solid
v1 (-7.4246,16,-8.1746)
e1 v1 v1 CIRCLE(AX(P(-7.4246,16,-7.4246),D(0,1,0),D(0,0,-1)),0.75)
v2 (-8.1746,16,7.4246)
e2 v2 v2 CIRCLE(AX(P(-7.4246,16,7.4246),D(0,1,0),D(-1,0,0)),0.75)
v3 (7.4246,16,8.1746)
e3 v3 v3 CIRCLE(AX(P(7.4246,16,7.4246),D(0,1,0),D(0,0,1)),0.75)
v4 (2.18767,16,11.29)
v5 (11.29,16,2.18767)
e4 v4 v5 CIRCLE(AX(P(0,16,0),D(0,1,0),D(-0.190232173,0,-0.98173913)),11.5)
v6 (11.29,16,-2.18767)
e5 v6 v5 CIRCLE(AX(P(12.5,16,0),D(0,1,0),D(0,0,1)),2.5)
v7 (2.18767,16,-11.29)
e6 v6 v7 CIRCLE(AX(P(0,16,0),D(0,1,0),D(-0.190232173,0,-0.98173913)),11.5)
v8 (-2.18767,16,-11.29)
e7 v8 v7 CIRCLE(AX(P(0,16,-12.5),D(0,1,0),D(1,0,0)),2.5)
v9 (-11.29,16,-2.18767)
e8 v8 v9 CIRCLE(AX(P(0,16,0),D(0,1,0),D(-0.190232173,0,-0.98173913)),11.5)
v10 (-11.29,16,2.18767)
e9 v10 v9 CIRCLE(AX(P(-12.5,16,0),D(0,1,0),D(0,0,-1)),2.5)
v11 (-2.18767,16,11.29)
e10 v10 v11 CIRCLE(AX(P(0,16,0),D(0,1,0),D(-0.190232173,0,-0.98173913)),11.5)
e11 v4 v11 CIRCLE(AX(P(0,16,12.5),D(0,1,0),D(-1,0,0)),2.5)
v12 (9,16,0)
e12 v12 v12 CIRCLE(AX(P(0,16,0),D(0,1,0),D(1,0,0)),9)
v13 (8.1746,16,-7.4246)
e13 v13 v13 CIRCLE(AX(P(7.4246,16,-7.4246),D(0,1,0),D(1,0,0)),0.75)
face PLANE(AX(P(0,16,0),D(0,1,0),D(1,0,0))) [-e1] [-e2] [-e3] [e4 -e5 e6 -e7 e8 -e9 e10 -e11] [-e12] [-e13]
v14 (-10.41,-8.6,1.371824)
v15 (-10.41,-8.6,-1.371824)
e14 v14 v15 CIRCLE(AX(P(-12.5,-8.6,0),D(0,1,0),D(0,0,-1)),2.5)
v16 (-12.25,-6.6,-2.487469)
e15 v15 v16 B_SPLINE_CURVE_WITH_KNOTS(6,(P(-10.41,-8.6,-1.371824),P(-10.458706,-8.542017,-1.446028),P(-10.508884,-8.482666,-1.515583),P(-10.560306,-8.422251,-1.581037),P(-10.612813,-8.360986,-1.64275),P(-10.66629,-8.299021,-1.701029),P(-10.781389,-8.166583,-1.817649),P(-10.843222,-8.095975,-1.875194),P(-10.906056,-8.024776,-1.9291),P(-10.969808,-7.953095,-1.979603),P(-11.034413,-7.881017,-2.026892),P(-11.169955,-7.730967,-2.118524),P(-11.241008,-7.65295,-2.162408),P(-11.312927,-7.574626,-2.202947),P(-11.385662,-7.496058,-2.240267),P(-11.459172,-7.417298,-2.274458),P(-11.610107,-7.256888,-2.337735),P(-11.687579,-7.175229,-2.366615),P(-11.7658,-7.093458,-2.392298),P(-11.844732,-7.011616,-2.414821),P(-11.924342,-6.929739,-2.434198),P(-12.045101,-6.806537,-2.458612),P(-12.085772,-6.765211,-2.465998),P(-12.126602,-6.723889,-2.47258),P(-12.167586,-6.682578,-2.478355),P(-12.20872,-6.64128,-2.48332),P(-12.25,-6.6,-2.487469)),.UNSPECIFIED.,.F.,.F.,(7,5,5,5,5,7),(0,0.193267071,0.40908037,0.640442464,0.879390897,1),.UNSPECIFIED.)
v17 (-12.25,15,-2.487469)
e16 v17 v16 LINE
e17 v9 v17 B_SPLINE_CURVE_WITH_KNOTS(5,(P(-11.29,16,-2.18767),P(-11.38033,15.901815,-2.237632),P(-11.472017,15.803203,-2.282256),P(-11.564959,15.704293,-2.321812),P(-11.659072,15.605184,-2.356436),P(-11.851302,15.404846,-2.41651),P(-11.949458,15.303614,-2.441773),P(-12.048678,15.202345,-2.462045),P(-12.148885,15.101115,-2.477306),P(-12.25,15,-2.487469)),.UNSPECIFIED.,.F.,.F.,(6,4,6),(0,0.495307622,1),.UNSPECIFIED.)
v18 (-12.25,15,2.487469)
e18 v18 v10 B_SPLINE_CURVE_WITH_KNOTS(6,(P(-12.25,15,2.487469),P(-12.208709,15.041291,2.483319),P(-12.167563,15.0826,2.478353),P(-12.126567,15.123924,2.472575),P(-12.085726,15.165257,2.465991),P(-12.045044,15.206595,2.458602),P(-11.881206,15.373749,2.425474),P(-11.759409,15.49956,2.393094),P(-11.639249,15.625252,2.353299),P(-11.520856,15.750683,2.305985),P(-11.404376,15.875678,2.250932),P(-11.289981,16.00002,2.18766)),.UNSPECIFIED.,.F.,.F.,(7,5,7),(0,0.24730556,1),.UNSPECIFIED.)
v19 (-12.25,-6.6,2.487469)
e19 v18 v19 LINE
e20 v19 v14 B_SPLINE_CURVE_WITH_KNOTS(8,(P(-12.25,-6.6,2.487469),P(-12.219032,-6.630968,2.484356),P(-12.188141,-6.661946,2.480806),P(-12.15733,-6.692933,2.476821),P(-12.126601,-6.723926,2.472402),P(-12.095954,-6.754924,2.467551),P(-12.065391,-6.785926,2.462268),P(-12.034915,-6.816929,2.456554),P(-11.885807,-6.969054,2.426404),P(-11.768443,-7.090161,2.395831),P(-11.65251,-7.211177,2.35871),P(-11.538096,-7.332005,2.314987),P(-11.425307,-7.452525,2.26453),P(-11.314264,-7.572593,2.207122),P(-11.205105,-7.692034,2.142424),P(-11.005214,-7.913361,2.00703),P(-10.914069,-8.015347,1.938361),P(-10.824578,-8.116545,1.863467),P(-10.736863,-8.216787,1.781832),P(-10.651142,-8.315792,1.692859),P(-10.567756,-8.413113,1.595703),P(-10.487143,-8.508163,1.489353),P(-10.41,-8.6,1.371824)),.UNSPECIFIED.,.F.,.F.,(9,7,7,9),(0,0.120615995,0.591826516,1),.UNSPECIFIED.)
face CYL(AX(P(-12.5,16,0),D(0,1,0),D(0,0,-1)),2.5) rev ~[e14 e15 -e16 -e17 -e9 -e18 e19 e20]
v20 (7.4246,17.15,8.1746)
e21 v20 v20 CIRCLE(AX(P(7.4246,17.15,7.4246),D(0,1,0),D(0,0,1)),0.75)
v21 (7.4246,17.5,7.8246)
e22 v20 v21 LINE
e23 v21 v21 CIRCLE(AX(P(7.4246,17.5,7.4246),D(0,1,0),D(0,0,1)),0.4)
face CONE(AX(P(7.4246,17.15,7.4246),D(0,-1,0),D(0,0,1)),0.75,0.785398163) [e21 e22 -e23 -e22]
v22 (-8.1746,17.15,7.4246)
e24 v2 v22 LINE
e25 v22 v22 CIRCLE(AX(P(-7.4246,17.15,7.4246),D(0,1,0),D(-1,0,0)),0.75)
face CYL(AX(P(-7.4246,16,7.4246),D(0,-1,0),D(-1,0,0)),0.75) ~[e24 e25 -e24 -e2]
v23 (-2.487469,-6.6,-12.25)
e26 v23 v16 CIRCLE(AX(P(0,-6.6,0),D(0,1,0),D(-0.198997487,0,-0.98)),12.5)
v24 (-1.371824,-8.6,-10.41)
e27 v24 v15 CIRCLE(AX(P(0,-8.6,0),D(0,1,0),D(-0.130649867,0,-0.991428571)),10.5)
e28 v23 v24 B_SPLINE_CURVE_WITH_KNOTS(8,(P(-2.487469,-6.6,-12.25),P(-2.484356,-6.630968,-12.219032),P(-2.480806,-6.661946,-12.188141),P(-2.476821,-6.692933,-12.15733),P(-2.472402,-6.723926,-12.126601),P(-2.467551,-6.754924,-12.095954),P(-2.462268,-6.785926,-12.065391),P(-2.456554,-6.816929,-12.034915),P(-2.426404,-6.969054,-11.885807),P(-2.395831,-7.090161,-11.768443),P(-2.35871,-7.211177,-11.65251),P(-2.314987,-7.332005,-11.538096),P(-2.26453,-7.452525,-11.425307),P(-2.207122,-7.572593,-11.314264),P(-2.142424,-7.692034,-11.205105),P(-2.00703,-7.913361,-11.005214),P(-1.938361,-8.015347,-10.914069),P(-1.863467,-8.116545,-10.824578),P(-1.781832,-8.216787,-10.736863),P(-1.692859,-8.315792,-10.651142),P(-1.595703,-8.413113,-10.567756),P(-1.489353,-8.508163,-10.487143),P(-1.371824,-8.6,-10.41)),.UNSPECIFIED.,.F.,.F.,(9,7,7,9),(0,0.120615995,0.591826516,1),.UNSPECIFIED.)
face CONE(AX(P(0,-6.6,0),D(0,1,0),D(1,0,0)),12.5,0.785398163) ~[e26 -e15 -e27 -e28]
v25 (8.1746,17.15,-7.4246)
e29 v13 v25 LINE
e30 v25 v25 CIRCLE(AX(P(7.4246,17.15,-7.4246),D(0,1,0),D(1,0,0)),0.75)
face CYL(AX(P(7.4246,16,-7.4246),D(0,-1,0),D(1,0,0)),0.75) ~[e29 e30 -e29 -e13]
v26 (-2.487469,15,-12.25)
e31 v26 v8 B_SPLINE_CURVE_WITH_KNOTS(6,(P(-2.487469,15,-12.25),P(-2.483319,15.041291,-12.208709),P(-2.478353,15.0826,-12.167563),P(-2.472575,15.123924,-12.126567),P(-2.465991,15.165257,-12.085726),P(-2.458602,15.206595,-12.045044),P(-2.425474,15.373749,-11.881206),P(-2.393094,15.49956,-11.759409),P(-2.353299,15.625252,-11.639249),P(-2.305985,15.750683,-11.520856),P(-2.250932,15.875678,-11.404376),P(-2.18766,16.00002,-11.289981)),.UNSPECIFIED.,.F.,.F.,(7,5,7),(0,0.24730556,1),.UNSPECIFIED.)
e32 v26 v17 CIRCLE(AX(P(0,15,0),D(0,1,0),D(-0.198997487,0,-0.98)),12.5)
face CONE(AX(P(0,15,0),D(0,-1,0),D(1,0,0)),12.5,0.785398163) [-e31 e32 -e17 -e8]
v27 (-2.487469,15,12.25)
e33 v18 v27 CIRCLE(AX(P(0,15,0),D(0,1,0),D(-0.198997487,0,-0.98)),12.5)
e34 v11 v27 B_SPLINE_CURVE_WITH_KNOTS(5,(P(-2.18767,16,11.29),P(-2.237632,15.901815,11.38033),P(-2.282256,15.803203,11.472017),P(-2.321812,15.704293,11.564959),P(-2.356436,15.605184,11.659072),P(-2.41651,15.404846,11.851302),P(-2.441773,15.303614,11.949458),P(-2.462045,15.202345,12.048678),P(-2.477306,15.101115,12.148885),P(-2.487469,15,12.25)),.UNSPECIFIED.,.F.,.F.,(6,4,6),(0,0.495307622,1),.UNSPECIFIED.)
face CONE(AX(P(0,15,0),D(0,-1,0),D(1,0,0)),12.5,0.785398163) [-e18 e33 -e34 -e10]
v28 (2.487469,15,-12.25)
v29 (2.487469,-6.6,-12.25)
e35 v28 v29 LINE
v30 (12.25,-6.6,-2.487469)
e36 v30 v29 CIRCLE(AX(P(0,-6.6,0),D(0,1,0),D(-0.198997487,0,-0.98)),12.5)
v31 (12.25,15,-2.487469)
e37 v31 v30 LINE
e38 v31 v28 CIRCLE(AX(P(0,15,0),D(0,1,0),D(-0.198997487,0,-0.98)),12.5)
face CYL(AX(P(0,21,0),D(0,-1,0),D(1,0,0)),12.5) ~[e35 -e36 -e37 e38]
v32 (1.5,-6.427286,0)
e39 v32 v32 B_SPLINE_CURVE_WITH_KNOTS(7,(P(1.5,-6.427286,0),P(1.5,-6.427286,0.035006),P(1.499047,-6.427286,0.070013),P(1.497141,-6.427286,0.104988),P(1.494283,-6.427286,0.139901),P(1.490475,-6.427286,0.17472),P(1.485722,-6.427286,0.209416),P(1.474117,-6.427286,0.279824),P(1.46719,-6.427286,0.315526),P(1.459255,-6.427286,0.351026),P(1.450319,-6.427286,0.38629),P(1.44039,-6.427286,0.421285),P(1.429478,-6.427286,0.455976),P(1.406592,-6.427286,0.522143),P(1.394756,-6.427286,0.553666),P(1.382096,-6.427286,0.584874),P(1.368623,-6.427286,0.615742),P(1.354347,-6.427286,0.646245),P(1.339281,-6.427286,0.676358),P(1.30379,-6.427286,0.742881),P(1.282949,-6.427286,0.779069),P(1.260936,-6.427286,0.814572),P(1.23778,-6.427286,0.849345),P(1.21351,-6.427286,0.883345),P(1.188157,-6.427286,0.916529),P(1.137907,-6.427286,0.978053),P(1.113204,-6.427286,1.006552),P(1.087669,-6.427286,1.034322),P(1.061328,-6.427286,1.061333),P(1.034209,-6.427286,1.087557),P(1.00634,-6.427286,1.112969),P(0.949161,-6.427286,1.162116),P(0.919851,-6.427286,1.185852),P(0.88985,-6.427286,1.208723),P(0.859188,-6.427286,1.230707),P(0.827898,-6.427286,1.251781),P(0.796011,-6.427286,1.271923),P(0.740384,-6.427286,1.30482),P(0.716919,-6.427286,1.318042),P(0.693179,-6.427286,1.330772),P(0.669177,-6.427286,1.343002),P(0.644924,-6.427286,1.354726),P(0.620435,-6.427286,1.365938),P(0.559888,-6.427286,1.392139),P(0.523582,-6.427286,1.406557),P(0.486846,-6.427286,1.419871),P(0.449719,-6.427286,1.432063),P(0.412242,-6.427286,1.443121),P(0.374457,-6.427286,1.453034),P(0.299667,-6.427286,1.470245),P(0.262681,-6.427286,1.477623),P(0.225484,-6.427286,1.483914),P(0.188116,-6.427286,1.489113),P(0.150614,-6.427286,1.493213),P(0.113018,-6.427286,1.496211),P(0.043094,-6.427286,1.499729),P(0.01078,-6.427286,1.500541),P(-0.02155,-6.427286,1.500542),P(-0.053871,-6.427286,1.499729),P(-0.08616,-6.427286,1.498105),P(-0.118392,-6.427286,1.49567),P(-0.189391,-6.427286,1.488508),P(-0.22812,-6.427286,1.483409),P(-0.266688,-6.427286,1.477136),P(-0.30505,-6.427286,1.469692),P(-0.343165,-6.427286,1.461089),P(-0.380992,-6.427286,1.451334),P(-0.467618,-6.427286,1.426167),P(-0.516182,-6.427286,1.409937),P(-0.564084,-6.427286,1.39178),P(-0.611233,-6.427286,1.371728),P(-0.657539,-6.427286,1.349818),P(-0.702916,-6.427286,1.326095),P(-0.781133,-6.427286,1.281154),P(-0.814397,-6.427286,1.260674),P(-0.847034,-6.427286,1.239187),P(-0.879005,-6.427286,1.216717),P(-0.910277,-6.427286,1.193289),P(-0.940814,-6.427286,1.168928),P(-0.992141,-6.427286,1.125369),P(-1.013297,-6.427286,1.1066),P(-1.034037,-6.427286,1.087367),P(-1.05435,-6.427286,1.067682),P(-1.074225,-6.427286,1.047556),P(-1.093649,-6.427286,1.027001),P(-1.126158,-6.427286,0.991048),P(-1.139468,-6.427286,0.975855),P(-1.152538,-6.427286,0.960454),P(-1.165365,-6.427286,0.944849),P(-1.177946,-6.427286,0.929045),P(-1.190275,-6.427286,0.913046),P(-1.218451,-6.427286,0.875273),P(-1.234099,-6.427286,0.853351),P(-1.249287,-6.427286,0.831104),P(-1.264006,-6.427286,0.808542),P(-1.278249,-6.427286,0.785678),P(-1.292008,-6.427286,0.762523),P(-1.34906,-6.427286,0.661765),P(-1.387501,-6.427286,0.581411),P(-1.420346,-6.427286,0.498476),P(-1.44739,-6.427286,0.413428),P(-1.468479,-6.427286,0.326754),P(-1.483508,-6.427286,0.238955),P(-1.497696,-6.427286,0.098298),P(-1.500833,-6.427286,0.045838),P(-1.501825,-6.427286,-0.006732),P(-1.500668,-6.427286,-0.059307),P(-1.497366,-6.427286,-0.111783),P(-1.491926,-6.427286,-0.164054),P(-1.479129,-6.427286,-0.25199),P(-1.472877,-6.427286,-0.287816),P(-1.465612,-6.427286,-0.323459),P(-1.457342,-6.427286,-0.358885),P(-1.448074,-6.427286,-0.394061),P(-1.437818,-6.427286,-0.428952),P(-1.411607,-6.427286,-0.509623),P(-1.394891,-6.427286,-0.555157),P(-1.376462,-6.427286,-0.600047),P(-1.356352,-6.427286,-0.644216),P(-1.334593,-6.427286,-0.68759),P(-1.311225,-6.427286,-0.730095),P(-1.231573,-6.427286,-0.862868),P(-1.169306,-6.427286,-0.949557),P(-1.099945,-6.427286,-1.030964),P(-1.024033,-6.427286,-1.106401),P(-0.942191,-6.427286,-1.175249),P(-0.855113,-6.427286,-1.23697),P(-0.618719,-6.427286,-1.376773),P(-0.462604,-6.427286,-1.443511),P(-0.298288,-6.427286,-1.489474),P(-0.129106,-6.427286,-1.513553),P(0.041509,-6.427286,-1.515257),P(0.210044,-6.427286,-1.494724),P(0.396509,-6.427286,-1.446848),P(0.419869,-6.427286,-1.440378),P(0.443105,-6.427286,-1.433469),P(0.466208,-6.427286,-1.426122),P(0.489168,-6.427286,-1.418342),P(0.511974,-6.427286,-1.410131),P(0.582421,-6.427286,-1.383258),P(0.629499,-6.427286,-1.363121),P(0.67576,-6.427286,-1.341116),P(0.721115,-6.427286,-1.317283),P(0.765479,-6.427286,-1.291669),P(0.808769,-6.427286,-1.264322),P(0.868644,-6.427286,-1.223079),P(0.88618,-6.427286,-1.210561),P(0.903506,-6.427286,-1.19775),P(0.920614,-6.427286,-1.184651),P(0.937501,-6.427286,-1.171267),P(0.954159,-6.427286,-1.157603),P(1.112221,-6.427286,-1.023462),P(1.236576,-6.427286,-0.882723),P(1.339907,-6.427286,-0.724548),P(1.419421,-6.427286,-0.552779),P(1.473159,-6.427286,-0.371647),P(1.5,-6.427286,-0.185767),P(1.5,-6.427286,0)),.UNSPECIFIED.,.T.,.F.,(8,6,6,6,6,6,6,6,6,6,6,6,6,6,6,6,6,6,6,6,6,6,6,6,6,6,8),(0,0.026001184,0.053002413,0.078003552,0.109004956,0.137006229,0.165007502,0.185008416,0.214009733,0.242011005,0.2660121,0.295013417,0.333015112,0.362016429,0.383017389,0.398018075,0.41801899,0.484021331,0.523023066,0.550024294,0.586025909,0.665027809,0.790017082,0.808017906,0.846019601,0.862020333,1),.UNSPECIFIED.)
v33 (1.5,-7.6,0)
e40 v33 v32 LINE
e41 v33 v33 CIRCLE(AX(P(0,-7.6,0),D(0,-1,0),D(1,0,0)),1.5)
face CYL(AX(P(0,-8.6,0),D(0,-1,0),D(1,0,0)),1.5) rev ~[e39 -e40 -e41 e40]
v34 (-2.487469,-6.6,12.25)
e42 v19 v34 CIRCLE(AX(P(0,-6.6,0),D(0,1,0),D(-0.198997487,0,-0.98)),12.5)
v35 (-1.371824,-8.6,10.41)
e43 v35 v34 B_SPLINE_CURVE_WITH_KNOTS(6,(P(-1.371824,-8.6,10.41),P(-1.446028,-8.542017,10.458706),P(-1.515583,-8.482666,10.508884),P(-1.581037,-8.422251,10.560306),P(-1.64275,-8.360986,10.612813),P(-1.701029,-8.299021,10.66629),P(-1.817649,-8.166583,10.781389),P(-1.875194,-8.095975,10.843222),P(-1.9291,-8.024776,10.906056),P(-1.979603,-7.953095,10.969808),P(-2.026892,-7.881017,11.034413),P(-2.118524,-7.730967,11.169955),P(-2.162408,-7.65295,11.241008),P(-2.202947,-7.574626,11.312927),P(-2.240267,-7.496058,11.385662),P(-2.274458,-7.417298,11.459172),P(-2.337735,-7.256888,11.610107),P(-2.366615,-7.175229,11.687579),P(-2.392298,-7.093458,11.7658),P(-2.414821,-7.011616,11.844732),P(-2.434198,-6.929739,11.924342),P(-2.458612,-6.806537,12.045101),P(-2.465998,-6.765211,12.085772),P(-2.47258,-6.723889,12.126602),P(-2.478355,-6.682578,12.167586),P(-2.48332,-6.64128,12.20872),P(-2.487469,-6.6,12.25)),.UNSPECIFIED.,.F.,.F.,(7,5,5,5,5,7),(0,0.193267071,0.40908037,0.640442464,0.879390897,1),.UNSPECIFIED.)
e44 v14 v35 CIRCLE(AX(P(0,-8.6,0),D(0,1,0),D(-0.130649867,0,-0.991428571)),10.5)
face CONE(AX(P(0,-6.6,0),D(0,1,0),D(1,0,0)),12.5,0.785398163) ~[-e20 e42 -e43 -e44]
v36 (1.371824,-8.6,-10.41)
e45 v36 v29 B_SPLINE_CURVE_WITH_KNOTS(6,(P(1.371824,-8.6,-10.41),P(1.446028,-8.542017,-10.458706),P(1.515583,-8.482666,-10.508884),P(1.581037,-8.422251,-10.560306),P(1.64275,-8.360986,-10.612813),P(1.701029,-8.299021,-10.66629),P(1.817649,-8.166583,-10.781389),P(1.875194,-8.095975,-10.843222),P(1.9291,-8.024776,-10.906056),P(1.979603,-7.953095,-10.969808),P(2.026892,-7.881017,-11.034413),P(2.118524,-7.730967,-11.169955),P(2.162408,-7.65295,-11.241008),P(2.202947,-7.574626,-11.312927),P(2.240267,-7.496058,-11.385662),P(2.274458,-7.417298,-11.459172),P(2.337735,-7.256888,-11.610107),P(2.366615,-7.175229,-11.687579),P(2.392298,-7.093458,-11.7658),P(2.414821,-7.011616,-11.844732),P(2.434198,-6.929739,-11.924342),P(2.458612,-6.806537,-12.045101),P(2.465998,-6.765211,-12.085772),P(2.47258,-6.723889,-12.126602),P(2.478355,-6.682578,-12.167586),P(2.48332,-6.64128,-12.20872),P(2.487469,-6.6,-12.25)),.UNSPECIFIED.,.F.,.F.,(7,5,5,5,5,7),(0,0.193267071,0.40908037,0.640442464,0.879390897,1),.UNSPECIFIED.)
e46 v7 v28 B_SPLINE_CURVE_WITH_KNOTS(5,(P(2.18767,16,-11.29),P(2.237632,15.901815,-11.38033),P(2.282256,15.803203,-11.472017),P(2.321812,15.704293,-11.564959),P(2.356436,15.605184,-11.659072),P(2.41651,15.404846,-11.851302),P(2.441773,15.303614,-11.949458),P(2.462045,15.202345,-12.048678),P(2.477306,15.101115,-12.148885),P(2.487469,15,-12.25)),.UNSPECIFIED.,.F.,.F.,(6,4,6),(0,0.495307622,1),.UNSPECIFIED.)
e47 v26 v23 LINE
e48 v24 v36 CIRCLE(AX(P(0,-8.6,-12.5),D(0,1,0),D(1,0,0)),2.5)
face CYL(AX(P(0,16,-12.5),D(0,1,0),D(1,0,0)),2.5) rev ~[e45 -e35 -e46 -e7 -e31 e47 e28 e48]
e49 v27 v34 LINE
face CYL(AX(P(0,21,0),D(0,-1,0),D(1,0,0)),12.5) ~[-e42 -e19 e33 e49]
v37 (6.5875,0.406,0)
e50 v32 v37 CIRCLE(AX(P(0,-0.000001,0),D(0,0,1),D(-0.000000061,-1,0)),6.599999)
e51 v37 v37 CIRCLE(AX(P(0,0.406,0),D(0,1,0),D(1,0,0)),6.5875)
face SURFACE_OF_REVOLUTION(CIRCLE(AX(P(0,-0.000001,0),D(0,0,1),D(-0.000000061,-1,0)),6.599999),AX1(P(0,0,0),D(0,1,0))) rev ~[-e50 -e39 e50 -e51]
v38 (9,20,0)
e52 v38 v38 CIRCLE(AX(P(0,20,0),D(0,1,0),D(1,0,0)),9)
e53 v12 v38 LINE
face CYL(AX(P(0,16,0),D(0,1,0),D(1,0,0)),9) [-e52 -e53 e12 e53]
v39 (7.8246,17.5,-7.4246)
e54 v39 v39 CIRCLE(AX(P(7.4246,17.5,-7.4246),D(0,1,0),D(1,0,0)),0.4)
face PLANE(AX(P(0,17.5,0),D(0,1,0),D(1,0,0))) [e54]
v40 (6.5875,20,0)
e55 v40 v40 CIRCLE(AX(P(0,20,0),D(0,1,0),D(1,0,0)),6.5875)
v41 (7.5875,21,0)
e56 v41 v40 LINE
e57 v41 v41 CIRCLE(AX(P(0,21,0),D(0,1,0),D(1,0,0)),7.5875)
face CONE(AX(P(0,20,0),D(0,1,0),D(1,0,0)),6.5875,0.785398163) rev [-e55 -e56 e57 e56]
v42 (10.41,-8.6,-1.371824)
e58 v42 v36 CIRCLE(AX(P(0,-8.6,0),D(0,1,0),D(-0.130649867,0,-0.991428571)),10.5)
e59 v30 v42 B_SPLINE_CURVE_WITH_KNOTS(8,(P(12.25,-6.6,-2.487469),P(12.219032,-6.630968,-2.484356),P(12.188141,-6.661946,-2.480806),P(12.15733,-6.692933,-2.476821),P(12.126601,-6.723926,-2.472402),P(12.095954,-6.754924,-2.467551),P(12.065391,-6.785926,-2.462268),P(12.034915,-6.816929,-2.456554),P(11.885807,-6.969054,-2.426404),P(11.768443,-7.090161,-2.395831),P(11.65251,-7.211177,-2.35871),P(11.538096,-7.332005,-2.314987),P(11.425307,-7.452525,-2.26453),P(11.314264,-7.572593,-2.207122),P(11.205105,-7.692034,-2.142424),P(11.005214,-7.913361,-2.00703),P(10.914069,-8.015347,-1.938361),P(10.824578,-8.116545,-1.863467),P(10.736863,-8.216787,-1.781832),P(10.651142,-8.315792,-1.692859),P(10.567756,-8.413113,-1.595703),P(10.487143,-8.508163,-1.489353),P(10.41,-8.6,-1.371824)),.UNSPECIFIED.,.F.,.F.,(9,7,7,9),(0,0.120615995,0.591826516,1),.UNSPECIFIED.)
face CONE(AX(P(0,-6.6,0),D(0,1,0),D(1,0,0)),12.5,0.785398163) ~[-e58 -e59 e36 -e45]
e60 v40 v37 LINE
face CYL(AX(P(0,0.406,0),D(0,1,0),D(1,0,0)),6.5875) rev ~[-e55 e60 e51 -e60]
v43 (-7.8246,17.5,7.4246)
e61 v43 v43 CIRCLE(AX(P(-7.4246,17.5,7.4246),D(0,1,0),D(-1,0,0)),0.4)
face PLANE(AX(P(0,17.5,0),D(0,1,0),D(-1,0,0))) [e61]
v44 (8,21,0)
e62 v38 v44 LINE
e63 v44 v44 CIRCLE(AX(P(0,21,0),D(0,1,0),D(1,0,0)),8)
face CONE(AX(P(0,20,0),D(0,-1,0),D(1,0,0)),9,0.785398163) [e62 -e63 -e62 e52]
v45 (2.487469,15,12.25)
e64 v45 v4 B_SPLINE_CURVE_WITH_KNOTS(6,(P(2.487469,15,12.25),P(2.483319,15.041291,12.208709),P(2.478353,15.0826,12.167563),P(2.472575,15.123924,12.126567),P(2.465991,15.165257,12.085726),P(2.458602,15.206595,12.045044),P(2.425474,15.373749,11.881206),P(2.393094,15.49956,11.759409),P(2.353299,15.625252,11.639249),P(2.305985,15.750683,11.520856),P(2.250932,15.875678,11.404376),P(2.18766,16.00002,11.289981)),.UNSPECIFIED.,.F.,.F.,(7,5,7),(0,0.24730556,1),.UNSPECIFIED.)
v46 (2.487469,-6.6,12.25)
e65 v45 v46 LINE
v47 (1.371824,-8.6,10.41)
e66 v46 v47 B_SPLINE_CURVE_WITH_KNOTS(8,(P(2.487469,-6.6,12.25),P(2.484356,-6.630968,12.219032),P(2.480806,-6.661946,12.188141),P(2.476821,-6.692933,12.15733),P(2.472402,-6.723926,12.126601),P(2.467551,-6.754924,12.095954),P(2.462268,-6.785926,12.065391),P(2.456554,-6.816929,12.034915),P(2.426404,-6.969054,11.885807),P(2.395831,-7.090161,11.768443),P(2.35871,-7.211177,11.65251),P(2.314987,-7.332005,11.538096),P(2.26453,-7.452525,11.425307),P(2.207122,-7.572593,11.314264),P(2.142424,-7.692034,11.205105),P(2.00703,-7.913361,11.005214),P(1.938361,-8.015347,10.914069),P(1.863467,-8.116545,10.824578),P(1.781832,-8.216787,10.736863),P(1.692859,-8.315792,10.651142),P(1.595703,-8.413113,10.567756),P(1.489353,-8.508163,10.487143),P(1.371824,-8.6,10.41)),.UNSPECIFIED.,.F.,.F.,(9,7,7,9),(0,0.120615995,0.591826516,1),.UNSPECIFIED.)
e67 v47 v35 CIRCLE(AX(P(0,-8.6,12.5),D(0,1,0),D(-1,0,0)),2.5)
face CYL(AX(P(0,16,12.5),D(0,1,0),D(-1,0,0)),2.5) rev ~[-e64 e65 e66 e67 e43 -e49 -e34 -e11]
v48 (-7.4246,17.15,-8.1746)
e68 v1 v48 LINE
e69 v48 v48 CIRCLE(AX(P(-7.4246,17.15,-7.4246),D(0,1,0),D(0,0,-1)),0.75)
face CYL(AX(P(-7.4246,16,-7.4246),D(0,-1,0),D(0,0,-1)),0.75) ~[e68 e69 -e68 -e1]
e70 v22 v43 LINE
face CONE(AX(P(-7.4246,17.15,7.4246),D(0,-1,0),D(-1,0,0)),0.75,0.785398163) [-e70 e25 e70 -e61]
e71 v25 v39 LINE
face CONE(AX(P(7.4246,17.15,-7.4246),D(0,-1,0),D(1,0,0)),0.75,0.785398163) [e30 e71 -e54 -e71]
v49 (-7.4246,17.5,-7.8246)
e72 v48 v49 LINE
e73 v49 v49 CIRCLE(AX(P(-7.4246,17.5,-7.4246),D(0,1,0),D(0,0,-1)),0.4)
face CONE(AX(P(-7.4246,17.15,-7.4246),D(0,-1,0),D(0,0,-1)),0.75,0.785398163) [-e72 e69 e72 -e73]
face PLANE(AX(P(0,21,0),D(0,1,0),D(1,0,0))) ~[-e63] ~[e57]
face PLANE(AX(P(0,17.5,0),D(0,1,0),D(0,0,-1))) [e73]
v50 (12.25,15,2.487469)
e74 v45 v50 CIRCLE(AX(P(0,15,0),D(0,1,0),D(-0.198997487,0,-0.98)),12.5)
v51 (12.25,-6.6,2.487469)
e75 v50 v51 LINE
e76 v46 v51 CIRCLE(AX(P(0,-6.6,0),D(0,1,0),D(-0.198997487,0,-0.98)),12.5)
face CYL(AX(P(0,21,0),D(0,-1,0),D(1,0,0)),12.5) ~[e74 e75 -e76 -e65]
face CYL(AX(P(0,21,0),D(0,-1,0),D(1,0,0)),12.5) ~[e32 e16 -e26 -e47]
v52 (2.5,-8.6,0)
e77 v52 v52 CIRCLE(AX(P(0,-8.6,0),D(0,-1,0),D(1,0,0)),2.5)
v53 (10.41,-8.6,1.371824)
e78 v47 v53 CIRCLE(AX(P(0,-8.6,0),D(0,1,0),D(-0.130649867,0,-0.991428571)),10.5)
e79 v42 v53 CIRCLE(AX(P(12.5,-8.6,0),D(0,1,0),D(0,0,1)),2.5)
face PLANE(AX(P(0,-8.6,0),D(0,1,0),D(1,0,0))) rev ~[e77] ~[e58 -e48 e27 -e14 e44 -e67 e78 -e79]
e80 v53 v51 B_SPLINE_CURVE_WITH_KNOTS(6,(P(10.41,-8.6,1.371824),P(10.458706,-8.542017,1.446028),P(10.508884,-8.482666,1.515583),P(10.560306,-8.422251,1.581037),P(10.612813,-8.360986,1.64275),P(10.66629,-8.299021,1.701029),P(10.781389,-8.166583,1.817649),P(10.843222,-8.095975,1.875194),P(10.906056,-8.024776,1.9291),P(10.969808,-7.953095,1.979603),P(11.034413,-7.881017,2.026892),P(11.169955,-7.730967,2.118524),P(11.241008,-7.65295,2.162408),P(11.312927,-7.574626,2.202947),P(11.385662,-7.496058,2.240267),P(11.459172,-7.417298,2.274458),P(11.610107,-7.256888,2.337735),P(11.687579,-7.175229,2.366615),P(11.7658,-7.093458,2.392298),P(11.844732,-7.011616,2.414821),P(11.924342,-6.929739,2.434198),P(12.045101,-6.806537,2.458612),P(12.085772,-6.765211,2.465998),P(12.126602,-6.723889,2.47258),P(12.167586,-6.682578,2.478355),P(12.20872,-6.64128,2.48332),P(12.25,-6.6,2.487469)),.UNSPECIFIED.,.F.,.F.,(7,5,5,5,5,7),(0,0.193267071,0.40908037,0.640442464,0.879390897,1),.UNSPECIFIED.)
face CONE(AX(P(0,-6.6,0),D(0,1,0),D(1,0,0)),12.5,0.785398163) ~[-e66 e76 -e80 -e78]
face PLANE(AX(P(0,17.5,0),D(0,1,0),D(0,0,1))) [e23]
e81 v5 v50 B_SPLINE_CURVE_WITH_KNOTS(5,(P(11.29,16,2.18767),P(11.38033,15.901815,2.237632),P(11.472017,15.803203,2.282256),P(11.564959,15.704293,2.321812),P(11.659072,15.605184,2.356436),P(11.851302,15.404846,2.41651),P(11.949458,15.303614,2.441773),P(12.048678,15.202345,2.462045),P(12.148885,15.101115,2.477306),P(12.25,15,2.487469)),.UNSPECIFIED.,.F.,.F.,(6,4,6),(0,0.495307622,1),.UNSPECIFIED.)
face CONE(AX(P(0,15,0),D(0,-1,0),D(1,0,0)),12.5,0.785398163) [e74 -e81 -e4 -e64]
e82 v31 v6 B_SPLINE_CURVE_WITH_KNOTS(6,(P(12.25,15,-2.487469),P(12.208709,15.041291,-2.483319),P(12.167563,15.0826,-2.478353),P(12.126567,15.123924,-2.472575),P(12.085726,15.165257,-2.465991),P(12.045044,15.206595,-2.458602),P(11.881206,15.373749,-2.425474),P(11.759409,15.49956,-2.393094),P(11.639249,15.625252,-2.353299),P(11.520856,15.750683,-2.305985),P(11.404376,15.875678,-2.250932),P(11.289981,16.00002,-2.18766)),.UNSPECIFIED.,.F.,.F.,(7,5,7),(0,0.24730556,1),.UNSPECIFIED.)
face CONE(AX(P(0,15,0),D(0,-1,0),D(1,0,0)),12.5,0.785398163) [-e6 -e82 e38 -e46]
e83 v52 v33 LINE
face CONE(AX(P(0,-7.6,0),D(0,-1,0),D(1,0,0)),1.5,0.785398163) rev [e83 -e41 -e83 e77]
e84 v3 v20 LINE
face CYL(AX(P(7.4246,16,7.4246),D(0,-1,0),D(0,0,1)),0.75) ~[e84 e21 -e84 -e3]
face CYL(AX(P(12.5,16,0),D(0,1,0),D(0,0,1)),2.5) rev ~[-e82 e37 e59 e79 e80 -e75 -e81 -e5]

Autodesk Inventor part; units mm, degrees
ref_plane "YZ Plane" through (0, 0, 0) normal (1, 0, 0) x (0, 1, 0)
ref_plane "XZ Plane" through (0, 0, 0) normal (0, 1, 0) x (-1, 0, 0)
ref_plane "XY Plane" through (0, 0, 0) normal (0, 0, 1) x (1, 0, 0)
sketch "Sketch1" plane through (0, 0, 0) normal (0, 0, 1) x (1, 0, 0)
  line L0 (0, 0) -> (42.0469, 0) construction
  line L1 (0, 0) -> (0, 27.7015) construction
  arc A0 (0, -6.6) -> (6.5875, 0.406) centre (0, 0) ccw
  line L2 (6.5875, 0.406) -> (6.5875, 16)
  line L3 (6.5875, 16) -> (9, 16)
  line L4 (9, 16) -> (9, 21)
  line L5 (9, 21) -> (12.5, 21)
  line L6 (12.5, 21) -> (12.5, -8.6)
  line L7 (12.5, -8.6) -> (0, -8.6)
  line L8 (0, -8.6) -> (0, -6.6)
  line L9 (9, 16) -> (6.5875, 16)
  line L10 (6.5875, 16) -> (6.5875, 21)
  line L11 (6.5875, 21) -> (9, 21)
  line L12 (9, 21) -> (9, 16)
  line L13 (12.5, 16) -> (9, 16)
  line L14 (2, -8.6) -> (0, -8.6)
  line L15 (0, -8.6) -> (0, -6.6)
  dimension "d0" = 13.2
  dimension "d2" = 5
  dimension "d3" = 9
  dimension "d4" = 12.5
  dimension "d5" = 6.5875
  dimension "d6" = 2
  dimension "d35" = 16
revolve "Revolution1" add sketch "Sketch1" angle 360 about axis through (0, 0, 0) along (0, 1, 0) contours A0 L2 L3 L13 L6 L7 L8 | L10 L11 L4 L3
chamfer "Chamfer1" distance 2 angle 45 1 edges at (-12.5, -8.6, 0)
chamfer "Chamfer3" distance 1 angle 45 3 edges at (-9, 21, 0) (-12.5, 16, 0) (-6.5875, 21, 0)
sketch "Sketch2" plane through (0, 16, 0) normal (0, 1, 0) x (1, 0, 0)
  circle A0 centre (0, 0) radius 10.5 construction
  line L0 (0, 0) -> (0, 17.3905) construction
  line L1 (0, 0) -> (14.2747, 14.2747) construction
  circle A1 centre (7.4246, 7.4246) radius 0.75
  circle A2 centre (0, 0) radius 12.5 projected
  circle A3 centre (0, 0) radius 12.5
  circle A4 centre (0, 12.5) radius 2.5
  point P0 (-2.4875, 12.25)
  point P1 (2.4875, 12.25)
  dimension "d17" = 21
  dimension "d29" = 25
  dimension "d18" = 45
  dimension "d19" = 1.5
  dimension "d28" = 5
extrude "Extrusion1" add sketch "Sketch2" along normal blind 1.5 contours A1
chamfer "Chamfer4" distance 0.35 angle 45 1 edges at (6.6746, 17.5, -7.4246)
extrude "Extrusion2" cut sketch "Sketch2" against normal through all contours A4 A2 picked at (0, 11.6481)
pattern_circular "Circular Pattern2" count 4 over 360 about axis through (0, -10, 0) along (0, 1, 0) of "Extrusion1", "Extrusion2", "Chamfer4"
sketch "Sketch3" plane through (0, -8.6, -12.5) normal (0, -1, 0) x (1, 0, 0)
  circle A0 centre (0, 12.5) radius 1.5
  dimension "d37" = 3
extrude "Extrusion3" cut sketch "Sketch3" against normal through all
chamfer "Chamfer5" distance 1 angle 45 1 edges at (-1.5, -8.6, 0)
properties part number "centrifugetool_5mm_tubecap_v2"
